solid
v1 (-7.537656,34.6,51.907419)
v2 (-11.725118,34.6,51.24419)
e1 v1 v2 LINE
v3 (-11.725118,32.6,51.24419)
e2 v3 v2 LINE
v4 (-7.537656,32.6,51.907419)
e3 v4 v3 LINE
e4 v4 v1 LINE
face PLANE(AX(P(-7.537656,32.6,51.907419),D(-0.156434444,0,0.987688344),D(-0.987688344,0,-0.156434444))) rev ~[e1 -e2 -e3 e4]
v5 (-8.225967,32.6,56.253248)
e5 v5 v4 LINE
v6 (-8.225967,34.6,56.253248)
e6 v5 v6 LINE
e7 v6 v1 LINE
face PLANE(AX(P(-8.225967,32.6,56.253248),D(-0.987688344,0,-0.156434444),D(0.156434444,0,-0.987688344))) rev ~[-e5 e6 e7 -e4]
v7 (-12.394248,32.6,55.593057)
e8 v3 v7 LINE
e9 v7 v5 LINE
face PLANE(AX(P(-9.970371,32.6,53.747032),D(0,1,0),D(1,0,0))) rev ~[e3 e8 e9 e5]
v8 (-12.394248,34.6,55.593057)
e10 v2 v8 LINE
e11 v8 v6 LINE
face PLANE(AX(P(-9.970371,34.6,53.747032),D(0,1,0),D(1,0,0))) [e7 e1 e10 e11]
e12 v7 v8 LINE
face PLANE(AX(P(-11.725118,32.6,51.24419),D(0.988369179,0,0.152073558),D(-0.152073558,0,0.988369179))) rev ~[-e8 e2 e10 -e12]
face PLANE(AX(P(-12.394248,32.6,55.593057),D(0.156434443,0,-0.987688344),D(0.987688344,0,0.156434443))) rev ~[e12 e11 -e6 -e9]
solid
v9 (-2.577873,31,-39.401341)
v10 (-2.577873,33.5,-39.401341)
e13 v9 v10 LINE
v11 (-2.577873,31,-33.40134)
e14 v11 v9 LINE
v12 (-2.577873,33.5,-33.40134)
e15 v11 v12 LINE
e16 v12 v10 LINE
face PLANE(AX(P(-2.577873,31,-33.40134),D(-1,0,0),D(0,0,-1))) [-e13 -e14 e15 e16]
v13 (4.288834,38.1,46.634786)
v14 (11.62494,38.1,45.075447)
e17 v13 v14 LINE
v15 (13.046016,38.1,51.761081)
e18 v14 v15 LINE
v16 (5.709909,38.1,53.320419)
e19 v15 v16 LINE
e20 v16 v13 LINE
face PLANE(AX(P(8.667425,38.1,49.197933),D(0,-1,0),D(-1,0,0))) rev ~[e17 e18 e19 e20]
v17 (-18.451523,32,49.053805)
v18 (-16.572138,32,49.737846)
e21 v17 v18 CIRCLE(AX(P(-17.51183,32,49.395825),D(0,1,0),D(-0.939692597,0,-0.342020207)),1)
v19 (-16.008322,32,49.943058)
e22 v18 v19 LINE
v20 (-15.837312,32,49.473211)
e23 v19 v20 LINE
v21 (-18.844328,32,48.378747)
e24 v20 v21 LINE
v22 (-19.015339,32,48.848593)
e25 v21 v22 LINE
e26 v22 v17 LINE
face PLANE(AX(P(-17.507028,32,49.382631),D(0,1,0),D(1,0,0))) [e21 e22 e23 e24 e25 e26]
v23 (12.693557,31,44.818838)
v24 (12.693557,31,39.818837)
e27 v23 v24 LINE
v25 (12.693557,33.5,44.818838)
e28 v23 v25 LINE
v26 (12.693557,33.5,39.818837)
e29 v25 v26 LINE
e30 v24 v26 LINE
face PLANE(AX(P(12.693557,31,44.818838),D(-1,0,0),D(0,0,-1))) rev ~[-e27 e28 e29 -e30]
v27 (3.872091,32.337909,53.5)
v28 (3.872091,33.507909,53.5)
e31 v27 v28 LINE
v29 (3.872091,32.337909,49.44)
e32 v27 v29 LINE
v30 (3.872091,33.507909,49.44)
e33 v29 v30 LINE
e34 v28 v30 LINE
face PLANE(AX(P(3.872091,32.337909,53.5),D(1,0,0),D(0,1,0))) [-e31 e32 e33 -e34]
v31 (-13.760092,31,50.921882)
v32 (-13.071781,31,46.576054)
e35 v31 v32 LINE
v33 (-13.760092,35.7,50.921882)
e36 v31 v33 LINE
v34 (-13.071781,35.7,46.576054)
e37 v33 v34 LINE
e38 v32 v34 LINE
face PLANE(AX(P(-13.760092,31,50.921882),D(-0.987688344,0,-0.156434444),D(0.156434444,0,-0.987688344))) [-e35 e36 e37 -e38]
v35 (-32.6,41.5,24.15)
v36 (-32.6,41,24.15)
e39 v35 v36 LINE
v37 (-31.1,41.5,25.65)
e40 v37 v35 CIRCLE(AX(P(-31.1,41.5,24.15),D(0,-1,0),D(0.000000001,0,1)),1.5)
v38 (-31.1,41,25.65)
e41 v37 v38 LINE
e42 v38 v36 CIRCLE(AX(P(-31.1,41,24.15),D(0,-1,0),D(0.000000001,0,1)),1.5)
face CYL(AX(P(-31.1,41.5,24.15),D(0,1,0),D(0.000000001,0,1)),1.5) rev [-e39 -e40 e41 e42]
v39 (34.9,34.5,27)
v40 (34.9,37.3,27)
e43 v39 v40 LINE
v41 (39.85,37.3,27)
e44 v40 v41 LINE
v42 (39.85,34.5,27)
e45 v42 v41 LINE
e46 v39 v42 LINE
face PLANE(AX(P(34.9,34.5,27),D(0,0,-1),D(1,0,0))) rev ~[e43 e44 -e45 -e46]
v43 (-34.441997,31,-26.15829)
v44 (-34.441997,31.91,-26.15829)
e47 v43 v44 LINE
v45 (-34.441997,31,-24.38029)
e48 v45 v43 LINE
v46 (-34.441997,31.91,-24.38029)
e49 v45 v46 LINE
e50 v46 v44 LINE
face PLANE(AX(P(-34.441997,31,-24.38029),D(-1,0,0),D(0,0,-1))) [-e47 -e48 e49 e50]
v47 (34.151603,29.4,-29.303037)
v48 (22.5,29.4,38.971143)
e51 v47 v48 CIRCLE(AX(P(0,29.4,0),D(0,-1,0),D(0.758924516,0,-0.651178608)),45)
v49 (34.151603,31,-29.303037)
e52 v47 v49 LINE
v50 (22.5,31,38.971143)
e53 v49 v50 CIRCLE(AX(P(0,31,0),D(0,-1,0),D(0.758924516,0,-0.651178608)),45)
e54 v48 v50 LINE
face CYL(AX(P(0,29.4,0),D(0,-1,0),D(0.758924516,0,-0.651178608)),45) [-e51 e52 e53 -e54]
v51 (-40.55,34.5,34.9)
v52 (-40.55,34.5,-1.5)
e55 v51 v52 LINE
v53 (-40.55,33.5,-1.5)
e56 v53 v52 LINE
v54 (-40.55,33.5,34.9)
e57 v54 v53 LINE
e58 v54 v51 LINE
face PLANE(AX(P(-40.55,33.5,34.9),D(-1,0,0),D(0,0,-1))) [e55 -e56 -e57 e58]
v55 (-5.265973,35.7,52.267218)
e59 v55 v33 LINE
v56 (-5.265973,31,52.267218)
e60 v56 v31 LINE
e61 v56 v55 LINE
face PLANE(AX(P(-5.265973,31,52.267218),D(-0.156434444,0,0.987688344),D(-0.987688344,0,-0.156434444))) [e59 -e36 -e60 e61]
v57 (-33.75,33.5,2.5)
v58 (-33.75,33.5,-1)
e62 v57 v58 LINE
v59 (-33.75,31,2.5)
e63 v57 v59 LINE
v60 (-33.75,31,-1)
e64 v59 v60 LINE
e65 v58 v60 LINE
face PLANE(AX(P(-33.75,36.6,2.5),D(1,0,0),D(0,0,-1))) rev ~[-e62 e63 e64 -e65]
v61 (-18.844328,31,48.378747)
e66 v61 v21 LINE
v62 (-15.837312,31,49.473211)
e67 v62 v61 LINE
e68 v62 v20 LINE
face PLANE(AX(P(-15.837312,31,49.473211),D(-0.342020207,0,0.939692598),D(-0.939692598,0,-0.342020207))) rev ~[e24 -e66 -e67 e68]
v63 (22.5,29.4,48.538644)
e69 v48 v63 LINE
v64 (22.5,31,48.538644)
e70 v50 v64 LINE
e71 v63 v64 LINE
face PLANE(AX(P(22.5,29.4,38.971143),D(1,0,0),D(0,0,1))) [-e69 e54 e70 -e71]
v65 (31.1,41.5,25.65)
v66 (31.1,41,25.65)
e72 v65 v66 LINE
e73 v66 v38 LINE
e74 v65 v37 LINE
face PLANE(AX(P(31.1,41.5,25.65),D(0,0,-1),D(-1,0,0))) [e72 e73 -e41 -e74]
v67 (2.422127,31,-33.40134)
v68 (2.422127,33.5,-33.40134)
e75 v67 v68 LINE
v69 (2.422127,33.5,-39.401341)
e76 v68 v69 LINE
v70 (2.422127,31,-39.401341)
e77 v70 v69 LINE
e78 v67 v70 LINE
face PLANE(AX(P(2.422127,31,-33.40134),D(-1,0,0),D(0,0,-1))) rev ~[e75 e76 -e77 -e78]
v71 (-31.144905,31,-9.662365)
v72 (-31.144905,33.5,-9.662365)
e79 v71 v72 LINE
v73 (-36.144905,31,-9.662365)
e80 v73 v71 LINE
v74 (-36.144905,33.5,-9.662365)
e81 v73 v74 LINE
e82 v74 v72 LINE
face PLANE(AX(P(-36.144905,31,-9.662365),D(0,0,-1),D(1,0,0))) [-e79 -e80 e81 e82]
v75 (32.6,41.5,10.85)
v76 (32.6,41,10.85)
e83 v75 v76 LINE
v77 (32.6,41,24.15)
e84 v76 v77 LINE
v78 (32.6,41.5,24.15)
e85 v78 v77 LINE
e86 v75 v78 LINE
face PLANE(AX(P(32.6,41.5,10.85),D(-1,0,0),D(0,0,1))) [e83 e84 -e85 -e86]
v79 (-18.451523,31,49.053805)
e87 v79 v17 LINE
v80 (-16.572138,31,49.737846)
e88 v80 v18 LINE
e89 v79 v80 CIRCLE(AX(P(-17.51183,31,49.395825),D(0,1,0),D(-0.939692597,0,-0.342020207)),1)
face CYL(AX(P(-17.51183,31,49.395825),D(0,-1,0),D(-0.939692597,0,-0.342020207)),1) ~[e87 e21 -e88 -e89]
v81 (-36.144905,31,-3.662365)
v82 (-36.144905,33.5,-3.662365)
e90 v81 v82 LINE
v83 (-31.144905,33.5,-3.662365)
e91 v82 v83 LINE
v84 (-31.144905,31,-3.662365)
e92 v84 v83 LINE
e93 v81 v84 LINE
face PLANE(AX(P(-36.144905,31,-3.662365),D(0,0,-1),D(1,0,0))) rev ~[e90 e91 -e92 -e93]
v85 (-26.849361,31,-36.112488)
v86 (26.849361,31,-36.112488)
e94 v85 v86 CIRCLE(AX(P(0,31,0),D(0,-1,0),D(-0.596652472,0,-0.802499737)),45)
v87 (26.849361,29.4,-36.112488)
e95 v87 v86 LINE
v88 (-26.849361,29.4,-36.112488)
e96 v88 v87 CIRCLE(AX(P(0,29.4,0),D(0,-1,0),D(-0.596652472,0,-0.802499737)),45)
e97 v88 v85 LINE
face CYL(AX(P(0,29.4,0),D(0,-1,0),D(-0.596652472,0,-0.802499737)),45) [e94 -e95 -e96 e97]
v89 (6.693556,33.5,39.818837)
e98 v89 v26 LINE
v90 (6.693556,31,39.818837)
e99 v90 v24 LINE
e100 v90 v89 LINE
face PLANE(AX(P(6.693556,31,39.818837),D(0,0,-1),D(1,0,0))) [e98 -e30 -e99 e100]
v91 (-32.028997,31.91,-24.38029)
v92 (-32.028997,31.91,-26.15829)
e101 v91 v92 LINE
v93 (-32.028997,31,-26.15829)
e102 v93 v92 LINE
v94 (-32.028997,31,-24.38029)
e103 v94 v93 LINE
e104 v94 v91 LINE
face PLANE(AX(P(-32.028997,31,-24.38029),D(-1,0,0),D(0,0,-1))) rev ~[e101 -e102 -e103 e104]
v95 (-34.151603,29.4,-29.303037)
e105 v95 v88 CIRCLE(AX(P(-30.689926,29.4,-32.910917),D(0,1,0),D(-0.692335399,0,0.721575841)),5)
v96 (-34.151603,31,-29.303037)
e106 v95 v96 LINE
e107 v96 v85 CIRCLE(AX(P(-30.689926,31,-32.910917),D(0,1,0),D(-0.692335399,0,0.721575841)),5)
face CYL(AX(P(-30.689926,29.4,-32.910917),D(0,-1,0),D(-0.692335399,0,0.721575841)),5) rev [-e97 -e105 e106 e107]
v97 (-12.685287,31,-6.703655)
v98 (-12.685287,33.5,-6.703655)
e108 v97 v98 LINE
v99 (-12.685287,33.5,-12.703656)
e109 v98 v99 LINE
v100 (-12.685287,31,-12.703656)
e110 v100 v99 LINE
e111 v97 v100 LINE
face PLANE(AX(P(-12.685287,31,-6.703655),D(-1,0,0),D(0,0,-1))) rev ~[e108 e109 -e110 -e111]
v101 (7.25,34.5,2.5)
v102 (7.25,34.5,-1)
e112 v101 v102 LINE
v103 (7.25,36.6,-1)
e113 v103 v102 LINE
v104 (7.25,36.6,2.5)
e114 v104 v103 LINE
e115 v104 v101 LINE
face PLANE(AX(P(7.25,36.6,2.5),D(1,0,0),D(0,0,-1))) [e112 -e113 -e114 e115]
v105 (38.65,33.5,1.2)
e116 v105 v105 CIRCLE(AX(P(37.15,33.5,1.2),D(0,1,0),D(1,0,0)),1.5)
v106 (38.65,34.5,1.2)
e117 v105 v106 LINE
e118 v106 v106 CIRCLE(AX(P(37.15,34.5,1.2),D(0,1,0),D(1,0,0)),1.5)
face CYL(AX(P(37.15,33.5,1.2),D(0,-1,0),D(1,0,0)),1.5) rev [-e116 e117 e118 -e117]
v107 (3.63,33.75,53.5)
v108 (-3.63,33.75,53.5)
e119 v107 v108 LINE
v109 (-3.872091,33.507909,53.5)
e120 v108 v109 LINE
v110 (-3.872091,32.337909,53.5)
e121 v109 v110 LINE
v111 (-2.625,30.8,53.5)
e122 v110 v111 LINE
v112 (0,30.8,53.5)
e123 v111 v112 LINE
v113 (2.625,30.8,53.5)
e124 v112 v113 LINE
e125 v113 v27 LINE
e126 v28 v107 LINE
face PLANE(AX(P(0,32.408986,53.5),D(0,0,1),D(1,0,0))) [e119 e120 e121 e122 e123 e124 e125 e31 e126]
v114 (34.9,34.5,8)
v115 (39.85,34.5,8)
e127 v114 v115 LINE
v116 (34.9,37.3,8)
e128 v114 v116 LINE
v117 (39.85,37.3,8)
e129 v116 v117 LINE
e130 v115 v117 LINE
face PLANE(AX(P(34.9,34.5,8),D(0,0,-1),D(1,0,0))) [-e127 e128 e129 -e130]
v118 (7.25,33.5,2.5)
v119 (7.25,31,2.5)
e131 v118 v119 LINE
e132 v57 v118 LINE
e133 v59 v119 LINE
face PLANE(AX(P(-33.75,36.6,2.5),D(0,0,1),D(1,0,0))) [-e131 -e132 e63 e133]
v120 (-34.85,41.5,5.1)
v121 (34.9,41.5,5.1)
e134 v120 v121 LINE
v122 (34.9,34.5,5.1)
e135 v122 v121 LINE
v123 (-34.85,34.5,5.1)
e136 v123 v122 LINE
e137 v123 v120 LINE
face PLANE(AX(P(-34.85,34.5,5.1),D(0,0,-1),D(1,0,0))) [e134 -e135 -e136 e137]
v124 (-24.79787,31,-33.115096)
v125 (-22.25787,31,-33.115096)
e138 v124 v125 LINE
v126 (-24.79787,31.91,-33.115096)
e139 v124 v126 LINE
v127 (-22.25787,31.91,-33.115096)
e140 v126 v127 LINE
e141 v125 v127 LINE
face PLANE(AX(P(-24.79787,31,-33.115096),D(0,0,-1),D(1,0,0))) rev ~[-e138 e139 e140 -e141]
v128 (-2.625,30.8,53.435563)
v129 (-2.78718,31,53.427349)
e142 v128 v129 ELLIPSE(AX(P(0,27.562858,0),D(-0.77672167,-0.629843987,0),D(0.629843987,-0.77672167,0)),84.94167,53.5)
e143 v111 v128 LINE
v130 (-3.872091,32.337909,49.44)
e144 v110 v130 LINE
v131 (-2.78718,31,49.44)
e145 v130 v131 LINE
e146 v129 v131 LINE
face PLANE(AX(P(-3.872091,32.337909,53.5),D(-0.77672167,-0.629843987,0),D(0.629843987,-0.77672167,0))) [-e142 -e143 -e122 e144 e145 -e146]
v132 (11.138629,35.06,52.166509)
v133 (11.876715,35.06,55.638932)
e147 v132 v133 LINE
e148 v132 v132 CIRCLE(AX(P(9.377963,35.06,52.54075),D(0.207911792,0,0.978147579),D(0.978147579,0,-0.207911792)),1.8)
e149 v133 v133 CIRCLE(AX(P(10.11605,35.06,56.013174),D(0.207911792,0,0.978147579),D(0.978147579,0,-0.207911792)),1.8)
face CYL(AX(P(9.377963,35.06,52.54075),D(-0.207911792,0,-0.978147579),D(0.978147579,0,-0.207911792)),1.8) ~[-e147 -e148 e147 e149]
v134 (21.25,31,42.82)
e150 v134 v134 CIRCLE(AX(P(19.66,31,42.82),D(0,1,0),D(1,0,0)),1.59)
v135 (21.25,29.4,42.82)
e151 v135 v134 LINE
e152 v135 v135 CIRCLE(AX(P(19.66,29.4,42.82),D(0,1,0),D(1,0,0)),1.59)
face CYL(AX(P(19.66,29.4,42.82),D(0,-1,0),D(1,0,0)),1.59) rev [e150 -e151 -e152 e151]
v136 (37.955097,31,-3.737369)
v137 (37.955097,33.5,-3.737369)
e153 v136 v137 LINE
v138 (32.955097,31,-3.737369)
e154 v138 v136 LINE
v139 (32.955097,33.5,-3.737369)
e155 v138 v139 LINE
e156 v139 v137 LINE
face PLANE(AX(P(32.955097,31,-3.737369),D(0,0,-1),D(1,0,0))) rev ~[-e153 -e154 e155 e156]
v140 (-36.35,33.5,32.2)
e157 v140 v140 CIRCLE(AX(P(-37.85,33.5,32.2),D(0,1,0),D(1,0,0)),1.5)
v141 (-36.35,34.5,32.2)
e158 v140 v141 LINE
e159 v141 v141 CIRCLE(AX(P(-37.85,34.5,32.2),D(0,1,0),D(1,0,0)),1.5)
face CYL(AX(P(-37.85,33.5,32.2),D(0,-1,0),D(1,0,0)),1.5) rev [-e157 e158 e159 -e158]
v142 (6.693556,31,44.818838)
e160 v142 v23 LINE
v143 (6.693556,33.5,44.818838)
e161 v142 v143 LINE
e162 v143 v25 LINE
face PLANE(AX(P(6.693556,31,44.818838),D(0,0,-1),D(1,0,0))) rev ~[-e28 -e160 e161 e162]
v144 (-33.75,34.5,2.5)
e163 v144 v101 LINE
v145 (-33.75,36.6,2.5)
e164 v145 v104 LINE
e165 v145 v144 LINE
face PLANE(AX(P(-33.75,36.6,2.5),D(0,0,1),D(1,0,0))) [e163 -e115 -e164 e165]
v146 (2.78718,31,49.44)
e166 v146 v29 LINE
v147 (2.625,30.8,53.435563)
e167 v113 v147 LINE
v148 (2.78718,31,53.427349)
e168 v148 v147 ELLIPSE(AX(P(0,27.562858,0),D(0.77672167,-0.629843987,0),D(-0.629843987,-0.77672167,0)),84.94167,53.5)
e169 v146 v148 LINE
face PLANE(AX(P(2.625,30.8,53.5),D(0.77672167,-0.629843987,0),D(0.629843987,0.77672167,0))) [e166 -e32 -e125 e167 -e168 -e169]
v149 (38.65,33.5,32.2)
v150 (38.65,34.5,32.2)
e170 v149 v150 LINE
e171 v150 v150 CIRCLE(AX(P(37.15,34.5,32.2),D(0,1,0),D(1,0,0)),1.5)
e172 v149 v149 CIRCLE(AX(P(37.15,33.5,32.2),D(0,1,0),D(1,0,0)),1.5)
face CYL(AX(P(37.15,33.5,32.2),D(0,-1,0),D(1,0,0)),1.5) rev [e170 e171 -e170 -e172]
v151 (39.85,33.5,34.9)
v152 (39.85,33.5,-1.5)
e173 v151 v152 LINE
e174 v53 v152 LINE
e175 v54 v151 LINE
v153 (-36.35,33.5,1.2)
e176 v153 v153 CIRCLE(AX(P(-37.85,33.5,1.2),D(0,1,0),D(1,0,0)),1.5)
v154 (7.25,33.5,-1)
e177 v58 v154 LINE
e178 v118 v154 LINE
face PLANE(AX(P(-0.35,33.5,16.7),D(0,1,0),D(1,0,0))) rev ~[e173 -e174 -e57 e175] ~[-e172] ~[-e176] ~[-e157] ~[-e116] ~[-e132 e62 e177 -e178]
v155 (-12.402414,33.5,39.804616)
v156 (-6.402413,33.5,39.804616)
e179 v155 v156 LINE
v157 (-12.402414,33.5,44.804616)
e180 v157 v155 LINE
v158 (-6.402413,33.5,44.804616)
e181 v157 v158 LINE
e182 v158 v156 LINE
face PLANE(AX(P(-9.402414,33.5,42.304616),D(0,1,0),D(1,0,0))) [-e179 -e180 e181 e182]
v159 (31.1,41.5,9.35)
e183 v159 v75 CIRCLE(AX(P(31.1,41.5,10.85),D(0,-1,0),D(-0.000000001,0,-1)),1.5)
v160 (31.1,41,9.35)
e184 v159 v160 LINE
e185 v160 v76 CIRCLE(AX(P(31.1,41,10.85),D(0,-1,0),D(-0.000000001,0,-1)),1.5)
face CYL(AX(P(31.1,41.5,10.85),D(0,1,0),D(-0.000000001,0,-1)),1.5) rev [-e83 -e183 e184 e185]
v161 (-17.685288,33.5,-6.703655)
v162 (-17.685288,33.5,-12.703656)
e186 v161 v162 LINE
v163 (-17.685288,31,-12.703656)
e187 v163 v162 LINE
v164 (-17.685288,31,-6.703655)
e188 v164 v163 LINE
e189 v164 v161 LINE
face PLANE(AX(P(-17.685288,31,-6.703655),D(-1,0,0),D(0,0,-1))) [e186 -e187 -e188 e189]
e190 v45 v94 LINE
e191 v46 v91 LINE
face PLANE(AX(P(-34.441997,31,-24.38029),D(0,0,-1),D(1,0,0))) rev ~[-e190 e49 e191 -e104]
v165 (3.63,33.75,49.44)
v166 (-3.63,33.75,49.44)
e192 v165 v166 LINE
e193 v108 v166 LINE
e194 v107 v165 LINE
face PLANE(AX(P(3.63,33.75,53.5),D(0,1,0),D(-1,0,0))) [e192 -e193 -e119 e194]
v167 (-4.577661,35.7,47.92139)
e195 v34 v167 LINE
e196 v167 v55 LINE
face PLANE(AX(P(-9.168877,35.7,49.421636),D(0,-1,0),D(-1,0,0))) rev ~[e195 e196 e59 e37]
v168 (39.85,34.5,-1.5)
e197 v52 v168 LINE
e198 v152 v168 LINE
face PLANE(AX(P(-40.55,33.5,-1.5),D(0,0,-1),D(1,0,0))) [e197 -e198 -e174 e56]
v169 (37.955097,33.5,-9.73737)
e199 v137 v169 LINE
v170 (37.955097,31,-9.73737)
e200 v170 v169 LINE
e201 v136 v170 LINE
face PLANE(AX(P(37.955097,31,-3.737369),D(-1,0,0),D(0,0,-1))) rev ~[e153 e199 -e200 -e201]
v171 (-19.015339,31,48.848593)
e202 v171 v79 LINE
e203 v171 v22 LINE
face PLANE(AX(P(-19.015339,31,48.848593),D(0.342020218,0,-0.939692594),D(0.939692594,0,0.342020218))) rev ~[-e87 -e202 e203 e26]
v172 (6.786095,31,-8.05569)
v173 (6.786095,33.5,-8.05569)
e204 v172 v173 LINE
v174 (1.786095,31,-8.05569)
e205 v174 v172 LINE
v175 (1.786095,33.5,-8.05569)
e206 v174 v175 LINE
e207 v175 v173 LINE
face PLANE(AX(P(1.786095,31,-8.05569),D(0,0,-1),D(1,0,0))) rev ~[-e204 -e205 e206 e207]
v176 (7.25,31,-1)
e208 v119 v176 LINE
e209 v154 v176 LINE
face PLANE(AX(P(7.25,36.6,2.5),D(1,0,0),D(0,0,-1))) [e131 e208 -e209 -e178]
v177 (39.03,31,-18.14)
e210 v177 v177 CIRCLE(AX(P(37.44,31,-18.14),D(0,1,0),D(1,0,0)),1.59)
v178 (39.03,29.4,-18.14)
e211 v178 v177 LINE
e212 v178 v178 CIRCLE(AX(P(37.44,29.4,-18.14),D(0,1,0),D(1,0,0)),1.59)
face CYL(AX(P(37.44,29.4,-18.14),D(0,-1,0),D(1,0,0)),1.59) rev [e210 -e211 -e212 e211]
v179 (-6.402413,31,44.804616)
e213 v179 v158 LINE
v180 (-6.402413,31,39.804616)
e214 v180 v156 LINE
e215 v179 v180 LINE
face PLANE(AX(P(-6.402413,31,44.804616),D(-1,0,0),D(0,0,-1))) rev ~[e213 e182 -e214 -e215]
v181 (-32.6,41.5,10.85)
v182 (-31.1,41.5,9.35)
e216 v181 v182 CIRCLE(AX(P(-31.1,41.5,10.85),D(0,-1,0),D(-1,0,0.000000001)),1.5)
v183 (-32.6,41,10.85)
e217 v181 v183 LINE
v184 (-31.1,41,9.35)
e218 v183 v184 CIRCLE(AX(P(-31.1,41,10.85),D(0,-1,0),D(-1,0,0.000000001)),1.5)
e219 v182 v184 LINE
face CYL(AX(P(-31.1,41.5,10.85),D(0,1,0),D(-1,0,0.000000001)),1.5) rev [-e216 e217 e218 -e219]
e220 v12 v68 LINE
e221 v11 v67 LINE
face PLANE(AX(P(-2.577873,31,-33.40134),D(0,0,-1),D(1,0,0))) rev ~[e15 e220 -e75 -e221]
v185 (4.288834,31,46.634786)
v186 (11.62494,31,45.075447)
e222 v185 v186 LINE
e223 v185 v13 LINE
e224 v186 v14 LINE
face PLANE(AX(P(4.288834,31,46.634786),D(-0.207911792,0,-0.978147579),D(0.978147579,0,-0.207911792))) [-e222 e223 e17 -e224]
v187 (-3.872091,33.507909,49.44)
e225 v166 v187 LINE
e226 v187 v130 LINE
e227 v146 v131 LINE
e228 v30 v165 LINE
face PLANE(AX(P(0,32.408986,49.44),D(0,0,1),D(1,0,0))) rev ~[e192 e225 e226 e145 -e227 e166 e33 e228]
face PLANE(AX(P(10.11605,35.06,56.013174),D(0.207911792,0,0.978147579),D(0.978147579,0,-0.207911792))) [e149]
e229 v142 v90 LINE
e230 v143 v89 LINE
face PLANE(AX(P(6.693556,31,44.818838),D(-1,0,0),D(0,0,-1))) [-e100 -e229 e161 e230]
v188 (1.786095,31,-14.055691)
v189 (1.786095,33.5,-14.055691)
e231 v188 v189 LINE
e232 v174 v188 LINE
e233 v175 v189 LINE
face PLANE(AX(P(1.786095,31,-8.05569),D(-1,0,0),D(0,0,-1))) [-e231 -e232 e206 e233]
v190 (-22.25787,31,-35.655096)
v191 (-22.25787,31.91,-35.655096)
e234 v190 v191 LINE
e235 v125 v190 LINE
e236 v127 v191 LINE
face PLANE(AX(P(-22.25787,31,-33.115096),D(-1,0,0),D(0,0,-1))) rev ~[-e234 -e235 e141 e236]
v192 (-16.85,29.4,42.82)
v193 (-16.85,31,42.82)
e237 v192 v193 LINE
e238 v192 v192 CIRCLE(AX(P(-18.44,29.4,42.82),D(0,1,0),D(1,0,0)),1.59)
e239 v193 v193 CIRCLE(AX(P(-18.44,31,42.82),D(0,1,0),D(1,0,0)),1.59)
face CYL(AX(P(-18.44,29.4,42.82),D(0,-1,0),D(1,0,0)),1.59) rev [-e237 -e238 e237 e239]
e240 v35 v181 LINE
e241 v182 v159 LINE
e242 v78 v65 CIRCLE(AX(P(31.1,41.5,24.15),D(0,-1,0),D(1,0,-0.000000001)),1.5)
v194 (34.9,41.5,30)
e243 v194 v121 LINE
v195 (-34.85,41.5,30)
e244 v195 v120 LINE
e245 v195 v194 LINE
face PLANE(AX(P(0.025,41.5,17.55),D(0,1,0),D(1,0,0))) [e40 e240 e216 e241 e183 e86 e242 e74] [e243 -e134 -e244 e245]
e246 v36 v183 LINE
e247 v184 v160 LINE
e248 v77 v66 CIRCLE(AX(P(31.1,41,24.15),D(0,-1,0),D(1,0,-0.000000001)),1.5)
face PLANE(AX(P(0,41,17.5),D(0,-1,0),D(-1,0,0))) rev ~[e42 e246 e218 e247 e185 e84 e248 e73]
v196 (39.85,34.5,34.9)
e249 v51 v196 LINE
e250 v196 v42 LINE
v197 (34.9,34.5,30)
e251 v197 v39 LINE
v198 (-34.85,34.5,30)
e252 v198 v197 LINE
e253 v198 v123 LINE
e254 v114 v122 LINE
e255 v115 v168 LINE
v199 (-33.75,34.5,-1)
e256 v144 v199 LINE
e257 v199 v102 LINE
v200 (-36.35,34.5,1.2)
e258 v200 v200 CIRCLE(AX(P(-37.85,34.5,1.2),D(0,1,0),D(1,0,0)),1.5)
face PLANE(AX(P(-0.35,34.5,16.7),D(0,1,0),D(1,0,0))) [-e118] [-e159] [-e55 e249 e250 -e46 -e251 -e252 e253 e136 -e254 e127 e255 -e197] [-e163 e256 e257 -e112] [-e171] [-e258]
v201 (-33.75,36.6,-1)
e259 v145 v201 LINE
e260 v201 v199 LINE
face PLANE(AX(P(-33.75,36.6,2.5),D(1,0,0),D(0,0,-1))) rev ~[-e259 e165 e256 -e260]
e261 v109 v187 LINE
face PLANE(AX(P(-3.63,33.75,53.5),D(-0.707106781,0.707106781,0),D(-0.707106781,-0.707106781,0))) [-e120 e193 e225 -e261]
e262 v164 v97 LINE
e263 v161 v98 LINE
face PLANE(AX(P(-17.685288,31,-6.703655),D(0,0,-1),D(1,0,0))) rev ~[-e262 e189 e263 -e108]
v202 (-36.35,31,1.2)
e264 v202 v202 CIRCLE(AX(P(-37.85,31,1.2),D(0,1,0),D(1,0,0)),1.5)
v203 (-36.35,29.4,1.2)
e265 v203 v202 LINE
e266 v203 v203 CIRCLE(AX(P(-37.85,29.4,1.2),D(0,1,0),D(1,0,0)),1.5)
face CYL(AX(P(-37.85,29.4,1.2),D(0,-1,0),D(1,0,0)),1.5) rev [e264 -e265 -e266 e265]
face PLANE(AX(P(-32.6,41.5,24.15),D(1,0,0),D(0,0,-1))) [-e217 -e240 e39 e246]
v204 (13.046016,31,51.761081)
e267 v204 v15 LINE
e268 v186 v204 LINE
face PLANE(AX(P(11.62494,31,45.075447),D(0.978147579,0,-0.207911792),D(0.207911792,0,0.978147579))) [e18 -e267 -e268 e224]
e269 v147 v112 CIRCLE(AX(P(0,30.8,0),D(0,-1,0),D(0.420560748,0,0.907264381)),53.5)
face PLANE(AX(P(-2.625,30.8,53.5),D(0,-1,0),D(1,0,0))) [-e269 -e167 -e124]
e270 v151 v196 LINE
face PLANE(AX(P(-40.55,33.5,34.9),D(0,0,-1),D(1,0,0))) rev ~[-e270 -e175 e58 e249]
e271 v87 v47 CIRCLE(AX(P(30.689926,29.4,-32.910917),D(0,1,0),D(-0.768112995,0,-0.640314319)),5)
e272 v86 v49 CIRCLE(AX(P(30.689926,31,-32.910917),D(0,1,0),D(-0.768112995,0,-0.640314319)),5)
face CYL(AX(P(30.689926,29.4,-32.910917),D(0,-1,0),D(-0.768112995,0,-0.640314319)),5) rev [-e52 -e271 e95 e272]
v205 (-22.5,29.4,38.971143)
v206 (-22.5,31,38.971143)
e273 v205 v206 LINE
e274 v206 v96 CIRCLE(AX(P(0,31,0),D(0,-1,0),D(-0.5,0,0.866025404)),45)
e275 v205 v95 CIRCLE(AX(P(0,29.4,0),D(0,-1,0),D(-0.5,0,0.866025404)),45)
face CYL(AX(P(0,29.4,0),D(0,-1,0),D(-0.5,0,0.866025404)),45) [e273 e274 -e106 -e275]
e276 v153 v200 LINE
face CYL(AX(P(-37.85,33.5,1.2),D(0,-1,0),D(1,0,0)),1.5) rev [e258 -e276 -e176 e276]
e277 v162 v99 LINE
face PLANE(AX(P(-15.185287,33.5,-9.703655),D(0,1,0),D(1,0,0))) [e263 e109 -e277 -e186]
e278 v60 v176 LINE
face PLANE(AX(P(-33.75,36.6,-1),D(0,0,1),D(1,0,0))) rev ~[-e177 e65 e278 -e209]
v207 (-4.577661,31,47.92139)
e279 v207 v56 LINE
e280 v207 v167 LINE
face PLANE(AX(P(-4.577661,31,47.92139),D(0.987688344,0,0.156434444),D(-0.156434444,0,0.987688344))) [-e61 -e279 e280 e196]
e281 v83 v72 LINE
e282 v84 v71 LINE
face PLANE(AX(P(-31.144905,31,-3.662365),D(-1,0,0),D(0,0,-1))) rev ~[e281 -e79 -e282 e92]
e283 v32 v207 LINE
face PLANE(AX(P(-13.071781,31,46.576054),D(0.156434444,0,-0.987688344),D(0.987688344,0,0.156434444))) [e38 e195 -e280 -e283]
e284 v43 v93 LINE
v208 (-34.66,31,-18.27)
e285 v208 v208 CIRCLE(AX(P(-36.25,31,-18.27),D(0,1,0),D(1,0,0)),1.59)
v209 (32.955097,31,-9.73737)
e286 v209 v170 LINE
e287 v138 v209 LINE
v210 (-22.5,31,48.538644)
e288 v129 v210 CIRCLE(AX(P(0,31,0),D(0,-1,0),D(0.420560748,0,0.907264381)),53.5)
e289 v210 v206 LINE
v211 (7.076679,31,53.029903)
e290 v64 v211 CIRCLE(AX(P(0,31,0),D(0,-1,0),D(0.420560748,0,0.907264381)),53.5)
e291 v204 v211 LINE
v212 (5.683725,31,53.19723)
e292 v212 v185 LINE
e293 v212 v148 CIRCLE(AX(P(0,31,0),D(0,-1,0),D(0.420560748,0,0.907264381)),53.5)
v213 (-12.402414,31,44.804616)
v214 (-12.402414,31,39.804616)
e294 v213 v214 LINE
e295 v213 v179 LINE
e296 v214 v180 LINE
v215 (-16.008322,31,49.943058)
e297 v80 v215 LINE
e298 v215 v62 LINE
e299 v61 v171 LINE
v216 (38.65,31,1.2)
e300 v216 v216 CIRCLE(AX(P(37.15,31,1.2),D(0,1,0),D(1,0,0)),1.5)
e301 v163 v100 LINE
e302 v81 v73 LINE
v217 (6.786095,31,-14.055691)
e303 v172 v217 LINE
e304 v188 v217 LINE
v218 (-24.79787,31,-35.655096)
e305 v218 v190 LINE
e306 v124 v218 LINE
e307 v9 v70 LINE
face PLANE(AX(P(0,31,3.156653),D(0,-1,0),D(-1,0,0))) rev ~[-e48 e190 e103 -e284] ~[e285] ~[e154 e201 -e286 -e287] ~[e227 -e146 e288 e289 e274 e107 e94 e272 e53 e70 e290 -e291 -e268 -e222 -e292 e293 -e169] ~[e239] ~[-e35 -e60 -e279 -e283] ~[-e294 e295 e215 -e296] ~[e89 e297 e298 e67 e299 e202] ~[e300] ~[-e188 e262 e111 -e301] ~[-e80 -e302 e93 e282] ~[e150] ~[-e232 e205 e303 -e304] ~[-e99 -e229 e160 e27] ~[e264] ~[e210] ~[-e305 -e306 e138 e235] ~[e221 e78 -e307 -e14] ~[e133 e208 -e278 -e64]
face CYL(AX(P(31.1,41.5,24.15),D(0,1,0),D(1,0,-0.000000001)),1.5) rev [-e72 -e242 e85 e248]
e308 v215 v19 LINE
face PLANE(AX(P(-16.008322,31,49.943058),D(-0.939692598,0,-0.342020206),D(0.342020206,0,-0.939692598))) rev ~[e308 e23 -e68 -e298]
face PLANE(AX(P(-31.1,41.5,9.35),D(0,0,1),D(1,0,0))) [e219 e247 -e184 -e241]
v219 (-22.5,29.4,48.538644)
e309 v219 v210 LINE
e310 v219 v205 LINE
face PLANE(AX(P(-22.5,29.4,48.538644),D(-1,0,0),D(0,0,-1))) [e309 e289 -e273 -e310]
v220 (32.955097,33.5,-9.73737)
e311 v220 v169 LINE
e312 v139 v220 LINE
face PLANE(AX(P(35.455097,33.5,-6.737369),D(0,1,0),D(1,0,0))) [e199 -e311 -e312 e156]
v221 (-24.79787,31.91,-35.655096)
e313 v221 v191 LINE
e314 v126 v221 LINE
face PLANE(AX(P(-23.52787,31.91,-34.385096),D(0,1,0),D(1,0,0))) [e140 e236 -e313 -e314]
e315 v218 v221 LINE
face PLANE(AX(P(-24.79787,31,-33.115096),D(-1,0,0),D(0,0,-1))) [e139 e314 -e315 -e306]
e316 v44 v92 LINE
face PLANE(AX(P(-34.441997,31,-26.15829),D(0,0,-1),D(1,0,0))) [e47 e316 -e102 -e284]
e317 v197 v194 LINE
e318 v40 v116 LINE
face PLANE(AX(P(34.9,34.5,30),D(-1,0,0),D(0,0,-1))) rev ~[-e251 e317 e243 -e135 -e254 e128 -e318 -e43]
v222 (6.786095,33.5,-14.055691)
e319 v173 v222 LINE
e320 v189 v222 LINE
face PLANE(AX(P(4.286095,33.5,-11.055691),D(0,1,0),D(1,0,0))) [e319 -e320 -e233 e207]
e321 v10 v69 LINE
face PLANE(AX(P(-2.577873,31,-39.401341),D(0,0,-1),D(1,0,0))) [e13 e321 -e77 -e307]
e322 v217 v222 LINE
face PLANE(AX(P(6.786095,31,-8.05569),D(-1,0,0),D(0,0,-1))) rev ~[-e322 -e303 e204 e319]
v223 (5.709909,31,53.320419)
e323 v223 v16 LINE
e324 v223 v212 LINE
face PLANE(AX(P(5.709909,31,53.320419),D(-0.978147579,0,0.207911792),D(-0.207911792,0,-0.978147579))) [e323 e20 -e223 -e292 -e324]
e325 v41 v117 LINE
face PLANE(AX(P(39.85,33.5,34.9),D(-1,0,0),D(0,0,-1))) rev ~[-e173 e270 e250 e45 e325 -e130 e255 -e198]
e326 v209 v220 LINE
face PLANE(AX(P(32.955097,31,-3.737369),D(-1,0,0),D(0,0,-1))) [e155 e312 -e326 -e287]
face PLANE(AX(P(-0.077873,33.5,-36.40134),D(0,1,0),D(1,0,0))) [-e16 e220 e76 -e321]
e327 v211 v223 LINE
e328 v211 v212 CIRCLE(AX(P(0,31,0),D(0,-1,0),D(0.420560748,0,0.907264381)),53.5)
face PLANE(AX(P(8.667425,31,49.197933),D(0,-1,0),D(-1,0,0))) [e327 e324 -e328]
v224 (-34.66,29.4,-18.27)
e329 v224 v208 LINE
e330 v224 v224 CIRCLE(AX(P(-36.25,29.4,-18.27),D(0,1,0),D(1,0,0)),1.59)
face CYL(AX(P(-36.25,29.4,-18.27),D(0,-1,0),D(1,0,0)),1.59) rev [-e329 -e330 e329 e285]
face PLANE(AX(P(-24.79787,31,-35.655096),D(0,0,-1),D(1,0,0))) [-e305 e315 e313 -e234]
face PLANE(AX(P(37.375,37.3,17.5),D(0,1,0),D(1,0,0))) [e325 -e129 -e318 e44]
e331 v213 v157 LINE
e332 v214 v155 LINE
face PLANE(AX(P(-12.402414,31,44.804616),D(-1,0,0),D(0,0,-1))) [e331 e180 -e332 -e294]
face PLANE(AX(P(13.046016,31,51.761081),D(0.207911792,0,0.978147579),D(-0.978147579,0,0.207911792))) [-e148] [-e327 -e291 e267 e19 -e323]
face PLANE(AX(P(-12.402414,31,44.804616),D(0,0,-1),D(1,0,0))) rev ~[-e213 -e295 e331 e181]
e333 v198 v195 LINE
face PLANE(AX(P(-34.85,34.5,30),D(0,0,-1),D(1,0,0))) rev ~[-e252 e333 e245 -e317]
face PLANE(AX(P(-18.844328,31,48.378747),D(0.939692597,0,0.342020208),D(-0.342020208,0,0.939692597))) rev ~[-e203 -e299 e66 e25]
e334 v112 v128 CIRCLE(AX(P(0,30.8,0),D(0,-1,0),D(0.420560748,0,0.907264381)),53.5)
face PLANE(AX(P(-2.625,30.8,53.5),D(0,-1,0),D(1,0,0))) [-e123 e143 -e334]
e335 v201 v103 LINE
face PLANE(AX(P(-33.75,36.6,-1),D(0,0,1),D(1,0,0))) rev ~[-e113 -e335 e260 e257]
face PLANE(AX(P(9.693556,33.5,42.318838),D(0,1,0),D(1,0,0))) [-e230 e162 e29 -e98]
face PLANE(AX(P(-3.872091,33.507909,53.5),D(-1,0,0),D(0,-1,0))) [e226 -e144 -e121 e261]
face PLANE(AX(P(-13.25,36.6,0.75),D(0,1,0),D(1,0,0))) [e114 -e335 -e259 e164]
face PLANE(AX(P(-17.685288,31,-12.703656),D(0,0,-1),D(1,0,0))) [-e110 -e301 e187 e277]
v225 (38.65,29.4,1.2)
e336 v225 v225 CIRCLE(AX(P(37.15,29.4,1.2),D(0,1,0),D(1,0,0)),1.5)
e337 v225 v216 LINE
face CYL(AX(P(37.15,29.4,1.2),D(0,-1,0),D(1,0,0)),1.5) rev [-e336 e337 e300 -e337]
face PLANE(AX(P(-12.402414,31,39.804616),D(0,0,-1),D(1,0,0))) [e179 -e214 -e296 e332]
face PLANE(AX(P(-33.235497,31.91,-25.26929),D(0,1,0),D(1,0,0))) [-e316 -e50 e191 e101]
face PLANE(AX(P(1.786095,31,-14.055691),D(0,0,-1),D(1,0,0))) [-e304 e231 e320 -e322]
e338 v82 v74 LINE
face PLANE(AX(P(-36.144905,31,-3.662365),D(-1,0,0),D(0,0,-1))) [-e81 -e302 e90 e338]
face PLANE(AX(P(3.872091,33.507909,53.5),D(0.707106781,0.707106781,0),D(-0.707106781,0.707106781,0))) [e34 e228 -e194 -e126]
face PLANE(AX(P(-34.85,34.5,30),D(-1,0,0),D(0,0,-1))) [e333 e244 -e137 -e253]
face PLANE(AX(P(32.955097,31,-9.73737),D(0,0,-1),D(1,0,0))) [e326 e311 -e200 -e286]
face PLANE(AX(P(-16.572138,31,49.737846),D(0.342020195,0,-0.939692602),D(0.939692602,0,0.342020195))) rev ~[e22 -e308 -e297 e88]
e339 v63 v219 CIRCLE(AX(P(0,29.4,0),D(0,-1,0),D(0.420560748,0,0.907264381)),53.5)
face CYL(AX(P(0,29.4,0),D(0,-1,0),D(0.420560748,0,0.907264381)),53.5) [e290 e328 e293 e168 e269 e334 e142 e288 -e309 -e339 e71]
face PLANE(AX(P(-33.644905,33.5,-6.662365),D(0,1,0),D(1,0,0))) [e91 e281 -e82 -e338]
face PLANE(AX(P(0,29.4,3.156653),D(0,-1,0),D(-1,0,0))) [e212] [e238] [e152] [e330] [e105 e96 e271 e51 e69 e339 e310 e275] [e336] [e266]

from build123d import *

# Parameters (mm, degrees)
BOSS_EXTRUDE_START                   = 29.4
PCB_AREA_R                           = 1.5
PCB_AREA_R_2                         = 1.59
BOSS_EXTRUDE_PCB_DEPTH               = 1.6
BOSS_EXTRUDE_START_2                 = 33.5
LCD_AREA_W                           = 80.4
LCD_AREA_H                           = 36.4
LCD_AREA_R                           = 1.5
BOSS_EXTRUDE_LCD_PCB_DEPTH           = 1
BOSS_EXTRUDE_START_3                 = 36.6
LCD_AREA_3_W                         = 41
LCD_AREA_3_H                         = 3.5
BOSS_EXTRUDE_LCD_HEADER_DEPTH        = 5.6
BOSS_EXTRUDE_START_4                 = 34.5
LCD_AREA_4_W                         = 4.95
LCD_AREA_4_H                         = 19
BOSS_EXTRUDE_LCD_BACKLIGHT_DEPTH     = 2.8
LCD_AREA_5_W                         = 69.75
LCD_AREA_5_H                         = 24.9
BOSS_EXTRUDE_LCD_CASING_DEPTH        = 7
CUT_EXTRUDE_START                    = 41.5
CUT_EXTRUDE_LCD_SCREEN_DEPTH         = 0.5
BOSS_EXTRUDE_START_5                 = 31
PCB_COMPONENTS_3_W                   = 5.00000016
PCB_COMPONENTS_3_H                   = 6.0000007
PCB_COMPONENTS_3_W_2                 = 6.0000007
PCB_COMPONENTS_3_H_2                 = 5.00000016
BOSS_EXTRUDE_LEDS_DEPTH              = 2.5
BOSS_EXTRUDE_CHARGING_LED_DEPTH      = 1
PCB_COMPONENTS_5_W                   = 2.413
PCB_COMPONENTS_5_H                   = 1.778
BOSS_EXTRUDE_LIGHT_SENSOR_DEPTH      = 0.91
PCB_COMPONENTS_6_W                   = 2.54
PCB_COMPONENTS_6_H                   = 2.54
BOSS_EXTRUDE_TEMP_SENSOR_DEPTH       = 0.91
BOSS_EXTRUDE_POWER_SWITCH_BASE_DEPTH = 4.7
BOSS_EXTRUDE_START_6                 = 32.6
BOSS_EXTRUDE_POWER_SWITCH_DEPTH      = 2
BOSS_EXTRUDE_START_7                 = 53.5
BOSS_EXTRUDE_USB_CONNECTOR_DEPTH     = 4.06
BOSS_EXTRUDE_BUTTON_BASE_DEPTH       = 7.1
BUTTON_CIRCLE_R                      = 1.8
BOSS_EXTRUDE_BUTTON_DEPTH            = 3.55


with BuildPart() as part:
    # PCB area → Boss-Extrude PCB (new body)
    with BuildSketch(Plane(origin=(0, 0, 0), x_dir=(1, 0, 0), z_dir=(0, 1, 0)).offset(BOSS_EXTRUDE_START)):
        with BuildLine():
            Line((-22.5, -48.538644398), (-22.5, -38.97114317))
            ThreePointArc((-22.5, -38.97114317), (-44.358674104, -7.570206849), (-34.1516032, 29.303037366))
            ThreePointArc((-34.1516032, 29.303037366), (-27.279934403, 29.254148065), (-26.849361228, 36.112488167))
            ThreePointArc((-26.849361228, 36.112488167), (0, 45), (26.849361228, 36.112488167))
            ThreePointArc((26.849361228, 36.112488167), (27.279934402, 29.254148065), (34.1516032, 29.303037366))
            ThreePointArc((34.1516032, 29.303037366), (44.358674104, -7.570206849), (22.5, -38.97114317))
            Line((22.5, -38.97114317), (22.5, -48.538644398))
            ThreePointArc((22.5, -48.538644398), (0, -53.5), (-22.5, -48.538644398))
        make_face()
        with Locations((-37.85, -1.2)):
            Circle(PCB_AREA_R, mode=Mode.SUBTRACT)
        with Locations((37.15, -1.2)):
            Circle(PCB_AREA_R, mode=Mode.SUBTRACT)
        with Locations((-18.44, -42.82)):
            Circle(PCB_AREA_R_2, mode=Mode.SUBTRACT)
        with Locations((19.66, -42.82)):
            Circle(PCB_AREA_R_2, mode=Mode.SUBTRACT)
        with Locations((-36.25, 18.27)):
            Circle(PCB_AREA_R_2, mode=Mode.SUBTRACT)
        with Locations((37.44, 18.14)):
            Circle(PCB_AREA_R_2, mode=Mode.SUBTRACT)
    extrude(amount=BOSS_EXTRUDE_PCB_DEPTH)



with BuildPart() as body_2:
    # LCD area → Boss-Extrude LCD PCB (new body)
    with BuildSketch(Plane(origin=(0, 0, 0), x_dir=(1, 0, 0), z_dir=(0, 1, 0)).offset(BOSS_EXTRUDE_START_2)):
        with Locations((-0.35, -16.7)):
            Rectangle(LCD_AREA_W, LCD_AREA_H)
        with Locations((-37.85, -1.2)):
            Circle(LCD_AREA_R, mode=Mode.SUBTRACT)
        with Locations((37.15, -1.2)):
            Circle(LCD_AREA_R, mode=Mode.SUBTRACT)
        with Locations((37.15, -32.2)):
            Circle(LCD_AREA_R, mode=Mode.SUBTRACT)
        with Locations((-37.85, -32.2)):
            Circle(LCD_AREA_R, mode=Mode.SUBTRACT)
    extrude(amount=BOSS_EXTRUDE_LCD_PCB_DEPTH)


with BuildPart() as part_1:
    add(part.part)

    add(body_2.part)  # Boss-Extrude LCD header merges body 2
    # LCD area<3> → Boss-Extrude LCD header (add)
    with BuildSketch(Plane(origin=(0, 0, 0), x_dir=(1, 0, 0), z_dir=(0, 1, 0)).offset(BOSS_EXTRUDE_START_3)):
        with Locations((-13.25, -0.75)):
            Rectangle(LCD_AREA_3_W, LCD_AREA_3_H)
    extrude(amount=-BOSS_EXTRUDE_LCD_HEADER_DEPTH)

    # LCD area<4> → Boss-Extrude LCD backlight (add)
    with BuildSketch(Plane(origin=(0, 0, 0), x_dir=(1, 0, 0), z_dir=(0, 1, 0)).offset(BOSS_EXTRUDE_START_4)):
        with Locations((37.375, -17.5)):
            Rectangle(LCD_AREA_4_W, LCD_AREA_4_H)
    extrude(amount=BOSS_EXTRUDE_LCD_BACKLIGHT_DEPTH)

    # LCD area<5> → Boss-Extrude LCD casing (add)
    with BuildSketch(Plane(origin=(0, 0, 0), x_dir=(1, 0, 0), z_dir=(0, 1, 0)).offset(BOSS_EXTRUDE_START_4)):
        with Locations((0.025, -17.55)):
            Rectangle(LCD_AREA_5_W, LCD_AREA_5_H)
    extrude(amount=BOSS_EXTRUDE_LCD_CASING_DEPTH)

    # LCD area<6> → Cut-Extrude LCD screen (cut)
    with BuildSketch(Plane(origin=(0, 0, 0), x_dir=(1, 0, 0), z_dir=(0, 1, 0)).offset(CUT_EXTRUDE_START)):
        with BuildLine():
            Line((31.1, -25.65), (-31.1, -25.65))
            ThreePointArc((-31.1, -25.65), (-32.160660172, -25.210660172), (-32.6, -24.15))
            Line((-32.6, -24.15), (-32.6, -10.85))
            ThreePointArc((-32.6, -10.85), (-32.160660172, -9.789339828), (-31.1, -9.35))
            Line((-31.1, -9.35), (31.1, -9.35))
            ThreePointArc((31.1, -9.35), (32.160660172, -9.789339828), (32.6, -10.85))
            Line((32.6, -10.85), (32.6, -24.15))
            ThreePointArc((32.6, -24.15), (32.160660172, -25.210660172), (31.1, -25.65))
        make_face()
    extrude(amount=-CUT_EXTRUDE_LCD_SCREEN_DEPTH, mode=Mode.SUBTRACT)

    # PCB components<3> → Boss-Extrude LEDs (add)
    with BuildSketch(Plane(origin=(0, 0, 0), x_dir=(1, 0, 0), z_dir=(0, 1, 0)).offset(BOSS_EXTRUDE_START_5)):
        with Locations((-33.64490509, 6.662364904)):
            Rectangle(PCB_COMPONENTS_3_W, PCB_COMPONENTS_3_H)
        with Locations((-9.402413685, -42.304616346)):
            Rectangle(PCB_COMPONENTS_3_W_2, PCB_COMPONENTS_3_H_2)
        with Locations((9.693556469, -42.318837537)):
            Rectangle(PCB_COMPONENTS_3_W_2, PCB_COMPONENTS_3_H_2)
        with Locations((-15.185287476, 9.703655188)):
            Rectangle(PCB_COMPONENTS_3_W, PCB_COMPONENTS_3_H)
        with Locations((4.286094666, 11.05569071)):
            Rectangle(PCB_COMPONENTS_3_W, PCB_COMPONENTS_3_H)
        with Locations((35.455097198, 6.737369482)):
            Rectangle(PCB_COMPONENTS_3_W, PCB_COMPONENTS_3_H)
        with Locations((-0.07787323, 36.401340429)):
            Rectangle(PCB_COMPONENTS_3_W, PCB_COMPONENTS_3_H)
    extrude(amount=BOSS_EXTRUDE_LEDS_DEPTH)

    # PCB components → Boss-Extrude charging LED (add)
    with BuildSketch(Plane(origin=(0, 0, 0), x_dir=(1, 0, 0), z_dir=(0, 1, 0)).offset(BOSS_EXTRUDE_START_5)):
        with BuildLine():
            Line((-19.015338568, -48.848593014), (-18.451523006, -49.053805147))
            ThreePointArc((-18.451523006, -49.053805147), (-17.853850615, -50.335517952), (-16.572137811, -49.737845561))
            Line((-16.572137811, -49.737845561), (-16.008322255, -49.943057676))
            Line((-16.008322255, -49.943057676), (-15.837312152, -49.473211377))
            Line((-15.837312152, -49.473211377), (-18.844328464, -48.378746715))
            Line((-18.844328464, -48.378746715), (-19.015338568, -48.848593014))
        make_face()
    extrude(amount=BOSS_EXTRUDE_CHARGING_LED_DEPTH)

    # PCB components<5> → Boss-Extrude light sensor (add)
    with BuildSketch(Plane(origin=(0, 0, 0), x_dir=(1, 0, 0), z_dir=(0, 1, 0)).offset(BOSS_EXTRUDE_START_5)):
        with Locations((-33.235496521, 25.269289599)):
            Rectangle(PCB_COMPONENTS_5_W, PCB_COMPONENTS_5_H)
    extrude(amount=BOSS_EXTRUDE_LIGHT_SENSOR_DEPTH)

    # PCB components<6> → Boss-Extrude temp sensor (add)
    with BuildSketch(Plane(origin=(0, 0, 0), x_dir=(1, 0, 0), z_dir=(0, 1, 0)).offset(BOSS_EXTRUDE_START_5)):
        with Locations((-23.527870178, 34.385096178)):
            Rectangle(PCB_COMPONENTS_6_W, PCB_COMPONENTS_6_H)
    extrude(amount=BOSS_EXTRUDE_TEMP_SENSOR_DEPTH)

    # PCB components<7> → Boss-Extrude power switch base (add)
    with BuildSketch(Plane(origin=(0, 0, 0), x_dir=(1, 0, 0), z_dir=(0, 1, 0)).offset(BOSS_EXTRUDE_START_5)):
        Polygon((-5.265972545, -52.267218464), (-13.760092303, -50.921882249), (-13.071780751, -46.576053535), (-4.577660993, -47.92138975), align=None)
    extrude(amount=BOSS_EXTRUDE_POWER_SWITCH_BASE_DEPTH)

    # PCB height map → Boss-Extrude USB connector (add)
    with BuildSketch(Plane.XY.offset(BOSS_EXTRUDE_START_7)):
        Polygon((-2.625, 30.8), (2.625, 30.8), (3.872091094, 32.337908906), (3.872091094, 33.507908906), (3.63, 33.75), (-3.63, 33.75), (-3.872091094, 33.507908906), (-3.872091094, 32.337908906), align=None)
    extrude(amount=-BOSS_EXTRUDE_USB_CONNECTOR_DEPTH)

    # PCB components<9> → Boss-Extrude button base (add)
    with BuildSketch(Plane(origin=(0, 0, 0), x_dir=(1, 0, 0), z_dir=(0, 1, 0)).offset(BOSS_EXTRUDE_START_5)):
        Polygon((4.288833513, -46.634785586), (11.624940357, -45.075447145), (13.046016326, -51.761080528), (5.709909482, -53.320418969), align=None)
    extrude(amount=BOSS_EXTRUDE_BUTTON_BASE_DEPTH)

    # Button circle → Boss-Extrude button (add)
    with BuildSketch(Plane(origin=(11.090513202, 0, 52.17673576), x_dir=(0.978147579, 0, -0.207911792), z_dir=(0.207911792, 0, 0.978147579))):
        with Locations((-1.750809729, 35.06)):
            Circle(BUTTON_CIRCLE_R)
    extrude(amount=BOSS_EXTRUDE_BUTTON_DEPTH)


with BuildPart() as body_2_2:
    # PCB components<8> → Boss-Extrude power switch (new body)
    with BuildSketch(Plane(origin=(0, 0, 0), x_dir=(1, 0, 0), z_dir=(0, 1, 0)).offset(BOSS_EXTRUDE_START_6)):
        Polygon((-7.537655758, -51.90741924), (-11.725118165, -51.244190443), (-12.394248337, -55.593057189), (-8.22596731, -56.253247953), align=None)
    extrude(amount=BOSS_EXTRUDE_POWER_SWITCH_DEPTH)


solid = Compound([part_1.part, body_2_2.part])
